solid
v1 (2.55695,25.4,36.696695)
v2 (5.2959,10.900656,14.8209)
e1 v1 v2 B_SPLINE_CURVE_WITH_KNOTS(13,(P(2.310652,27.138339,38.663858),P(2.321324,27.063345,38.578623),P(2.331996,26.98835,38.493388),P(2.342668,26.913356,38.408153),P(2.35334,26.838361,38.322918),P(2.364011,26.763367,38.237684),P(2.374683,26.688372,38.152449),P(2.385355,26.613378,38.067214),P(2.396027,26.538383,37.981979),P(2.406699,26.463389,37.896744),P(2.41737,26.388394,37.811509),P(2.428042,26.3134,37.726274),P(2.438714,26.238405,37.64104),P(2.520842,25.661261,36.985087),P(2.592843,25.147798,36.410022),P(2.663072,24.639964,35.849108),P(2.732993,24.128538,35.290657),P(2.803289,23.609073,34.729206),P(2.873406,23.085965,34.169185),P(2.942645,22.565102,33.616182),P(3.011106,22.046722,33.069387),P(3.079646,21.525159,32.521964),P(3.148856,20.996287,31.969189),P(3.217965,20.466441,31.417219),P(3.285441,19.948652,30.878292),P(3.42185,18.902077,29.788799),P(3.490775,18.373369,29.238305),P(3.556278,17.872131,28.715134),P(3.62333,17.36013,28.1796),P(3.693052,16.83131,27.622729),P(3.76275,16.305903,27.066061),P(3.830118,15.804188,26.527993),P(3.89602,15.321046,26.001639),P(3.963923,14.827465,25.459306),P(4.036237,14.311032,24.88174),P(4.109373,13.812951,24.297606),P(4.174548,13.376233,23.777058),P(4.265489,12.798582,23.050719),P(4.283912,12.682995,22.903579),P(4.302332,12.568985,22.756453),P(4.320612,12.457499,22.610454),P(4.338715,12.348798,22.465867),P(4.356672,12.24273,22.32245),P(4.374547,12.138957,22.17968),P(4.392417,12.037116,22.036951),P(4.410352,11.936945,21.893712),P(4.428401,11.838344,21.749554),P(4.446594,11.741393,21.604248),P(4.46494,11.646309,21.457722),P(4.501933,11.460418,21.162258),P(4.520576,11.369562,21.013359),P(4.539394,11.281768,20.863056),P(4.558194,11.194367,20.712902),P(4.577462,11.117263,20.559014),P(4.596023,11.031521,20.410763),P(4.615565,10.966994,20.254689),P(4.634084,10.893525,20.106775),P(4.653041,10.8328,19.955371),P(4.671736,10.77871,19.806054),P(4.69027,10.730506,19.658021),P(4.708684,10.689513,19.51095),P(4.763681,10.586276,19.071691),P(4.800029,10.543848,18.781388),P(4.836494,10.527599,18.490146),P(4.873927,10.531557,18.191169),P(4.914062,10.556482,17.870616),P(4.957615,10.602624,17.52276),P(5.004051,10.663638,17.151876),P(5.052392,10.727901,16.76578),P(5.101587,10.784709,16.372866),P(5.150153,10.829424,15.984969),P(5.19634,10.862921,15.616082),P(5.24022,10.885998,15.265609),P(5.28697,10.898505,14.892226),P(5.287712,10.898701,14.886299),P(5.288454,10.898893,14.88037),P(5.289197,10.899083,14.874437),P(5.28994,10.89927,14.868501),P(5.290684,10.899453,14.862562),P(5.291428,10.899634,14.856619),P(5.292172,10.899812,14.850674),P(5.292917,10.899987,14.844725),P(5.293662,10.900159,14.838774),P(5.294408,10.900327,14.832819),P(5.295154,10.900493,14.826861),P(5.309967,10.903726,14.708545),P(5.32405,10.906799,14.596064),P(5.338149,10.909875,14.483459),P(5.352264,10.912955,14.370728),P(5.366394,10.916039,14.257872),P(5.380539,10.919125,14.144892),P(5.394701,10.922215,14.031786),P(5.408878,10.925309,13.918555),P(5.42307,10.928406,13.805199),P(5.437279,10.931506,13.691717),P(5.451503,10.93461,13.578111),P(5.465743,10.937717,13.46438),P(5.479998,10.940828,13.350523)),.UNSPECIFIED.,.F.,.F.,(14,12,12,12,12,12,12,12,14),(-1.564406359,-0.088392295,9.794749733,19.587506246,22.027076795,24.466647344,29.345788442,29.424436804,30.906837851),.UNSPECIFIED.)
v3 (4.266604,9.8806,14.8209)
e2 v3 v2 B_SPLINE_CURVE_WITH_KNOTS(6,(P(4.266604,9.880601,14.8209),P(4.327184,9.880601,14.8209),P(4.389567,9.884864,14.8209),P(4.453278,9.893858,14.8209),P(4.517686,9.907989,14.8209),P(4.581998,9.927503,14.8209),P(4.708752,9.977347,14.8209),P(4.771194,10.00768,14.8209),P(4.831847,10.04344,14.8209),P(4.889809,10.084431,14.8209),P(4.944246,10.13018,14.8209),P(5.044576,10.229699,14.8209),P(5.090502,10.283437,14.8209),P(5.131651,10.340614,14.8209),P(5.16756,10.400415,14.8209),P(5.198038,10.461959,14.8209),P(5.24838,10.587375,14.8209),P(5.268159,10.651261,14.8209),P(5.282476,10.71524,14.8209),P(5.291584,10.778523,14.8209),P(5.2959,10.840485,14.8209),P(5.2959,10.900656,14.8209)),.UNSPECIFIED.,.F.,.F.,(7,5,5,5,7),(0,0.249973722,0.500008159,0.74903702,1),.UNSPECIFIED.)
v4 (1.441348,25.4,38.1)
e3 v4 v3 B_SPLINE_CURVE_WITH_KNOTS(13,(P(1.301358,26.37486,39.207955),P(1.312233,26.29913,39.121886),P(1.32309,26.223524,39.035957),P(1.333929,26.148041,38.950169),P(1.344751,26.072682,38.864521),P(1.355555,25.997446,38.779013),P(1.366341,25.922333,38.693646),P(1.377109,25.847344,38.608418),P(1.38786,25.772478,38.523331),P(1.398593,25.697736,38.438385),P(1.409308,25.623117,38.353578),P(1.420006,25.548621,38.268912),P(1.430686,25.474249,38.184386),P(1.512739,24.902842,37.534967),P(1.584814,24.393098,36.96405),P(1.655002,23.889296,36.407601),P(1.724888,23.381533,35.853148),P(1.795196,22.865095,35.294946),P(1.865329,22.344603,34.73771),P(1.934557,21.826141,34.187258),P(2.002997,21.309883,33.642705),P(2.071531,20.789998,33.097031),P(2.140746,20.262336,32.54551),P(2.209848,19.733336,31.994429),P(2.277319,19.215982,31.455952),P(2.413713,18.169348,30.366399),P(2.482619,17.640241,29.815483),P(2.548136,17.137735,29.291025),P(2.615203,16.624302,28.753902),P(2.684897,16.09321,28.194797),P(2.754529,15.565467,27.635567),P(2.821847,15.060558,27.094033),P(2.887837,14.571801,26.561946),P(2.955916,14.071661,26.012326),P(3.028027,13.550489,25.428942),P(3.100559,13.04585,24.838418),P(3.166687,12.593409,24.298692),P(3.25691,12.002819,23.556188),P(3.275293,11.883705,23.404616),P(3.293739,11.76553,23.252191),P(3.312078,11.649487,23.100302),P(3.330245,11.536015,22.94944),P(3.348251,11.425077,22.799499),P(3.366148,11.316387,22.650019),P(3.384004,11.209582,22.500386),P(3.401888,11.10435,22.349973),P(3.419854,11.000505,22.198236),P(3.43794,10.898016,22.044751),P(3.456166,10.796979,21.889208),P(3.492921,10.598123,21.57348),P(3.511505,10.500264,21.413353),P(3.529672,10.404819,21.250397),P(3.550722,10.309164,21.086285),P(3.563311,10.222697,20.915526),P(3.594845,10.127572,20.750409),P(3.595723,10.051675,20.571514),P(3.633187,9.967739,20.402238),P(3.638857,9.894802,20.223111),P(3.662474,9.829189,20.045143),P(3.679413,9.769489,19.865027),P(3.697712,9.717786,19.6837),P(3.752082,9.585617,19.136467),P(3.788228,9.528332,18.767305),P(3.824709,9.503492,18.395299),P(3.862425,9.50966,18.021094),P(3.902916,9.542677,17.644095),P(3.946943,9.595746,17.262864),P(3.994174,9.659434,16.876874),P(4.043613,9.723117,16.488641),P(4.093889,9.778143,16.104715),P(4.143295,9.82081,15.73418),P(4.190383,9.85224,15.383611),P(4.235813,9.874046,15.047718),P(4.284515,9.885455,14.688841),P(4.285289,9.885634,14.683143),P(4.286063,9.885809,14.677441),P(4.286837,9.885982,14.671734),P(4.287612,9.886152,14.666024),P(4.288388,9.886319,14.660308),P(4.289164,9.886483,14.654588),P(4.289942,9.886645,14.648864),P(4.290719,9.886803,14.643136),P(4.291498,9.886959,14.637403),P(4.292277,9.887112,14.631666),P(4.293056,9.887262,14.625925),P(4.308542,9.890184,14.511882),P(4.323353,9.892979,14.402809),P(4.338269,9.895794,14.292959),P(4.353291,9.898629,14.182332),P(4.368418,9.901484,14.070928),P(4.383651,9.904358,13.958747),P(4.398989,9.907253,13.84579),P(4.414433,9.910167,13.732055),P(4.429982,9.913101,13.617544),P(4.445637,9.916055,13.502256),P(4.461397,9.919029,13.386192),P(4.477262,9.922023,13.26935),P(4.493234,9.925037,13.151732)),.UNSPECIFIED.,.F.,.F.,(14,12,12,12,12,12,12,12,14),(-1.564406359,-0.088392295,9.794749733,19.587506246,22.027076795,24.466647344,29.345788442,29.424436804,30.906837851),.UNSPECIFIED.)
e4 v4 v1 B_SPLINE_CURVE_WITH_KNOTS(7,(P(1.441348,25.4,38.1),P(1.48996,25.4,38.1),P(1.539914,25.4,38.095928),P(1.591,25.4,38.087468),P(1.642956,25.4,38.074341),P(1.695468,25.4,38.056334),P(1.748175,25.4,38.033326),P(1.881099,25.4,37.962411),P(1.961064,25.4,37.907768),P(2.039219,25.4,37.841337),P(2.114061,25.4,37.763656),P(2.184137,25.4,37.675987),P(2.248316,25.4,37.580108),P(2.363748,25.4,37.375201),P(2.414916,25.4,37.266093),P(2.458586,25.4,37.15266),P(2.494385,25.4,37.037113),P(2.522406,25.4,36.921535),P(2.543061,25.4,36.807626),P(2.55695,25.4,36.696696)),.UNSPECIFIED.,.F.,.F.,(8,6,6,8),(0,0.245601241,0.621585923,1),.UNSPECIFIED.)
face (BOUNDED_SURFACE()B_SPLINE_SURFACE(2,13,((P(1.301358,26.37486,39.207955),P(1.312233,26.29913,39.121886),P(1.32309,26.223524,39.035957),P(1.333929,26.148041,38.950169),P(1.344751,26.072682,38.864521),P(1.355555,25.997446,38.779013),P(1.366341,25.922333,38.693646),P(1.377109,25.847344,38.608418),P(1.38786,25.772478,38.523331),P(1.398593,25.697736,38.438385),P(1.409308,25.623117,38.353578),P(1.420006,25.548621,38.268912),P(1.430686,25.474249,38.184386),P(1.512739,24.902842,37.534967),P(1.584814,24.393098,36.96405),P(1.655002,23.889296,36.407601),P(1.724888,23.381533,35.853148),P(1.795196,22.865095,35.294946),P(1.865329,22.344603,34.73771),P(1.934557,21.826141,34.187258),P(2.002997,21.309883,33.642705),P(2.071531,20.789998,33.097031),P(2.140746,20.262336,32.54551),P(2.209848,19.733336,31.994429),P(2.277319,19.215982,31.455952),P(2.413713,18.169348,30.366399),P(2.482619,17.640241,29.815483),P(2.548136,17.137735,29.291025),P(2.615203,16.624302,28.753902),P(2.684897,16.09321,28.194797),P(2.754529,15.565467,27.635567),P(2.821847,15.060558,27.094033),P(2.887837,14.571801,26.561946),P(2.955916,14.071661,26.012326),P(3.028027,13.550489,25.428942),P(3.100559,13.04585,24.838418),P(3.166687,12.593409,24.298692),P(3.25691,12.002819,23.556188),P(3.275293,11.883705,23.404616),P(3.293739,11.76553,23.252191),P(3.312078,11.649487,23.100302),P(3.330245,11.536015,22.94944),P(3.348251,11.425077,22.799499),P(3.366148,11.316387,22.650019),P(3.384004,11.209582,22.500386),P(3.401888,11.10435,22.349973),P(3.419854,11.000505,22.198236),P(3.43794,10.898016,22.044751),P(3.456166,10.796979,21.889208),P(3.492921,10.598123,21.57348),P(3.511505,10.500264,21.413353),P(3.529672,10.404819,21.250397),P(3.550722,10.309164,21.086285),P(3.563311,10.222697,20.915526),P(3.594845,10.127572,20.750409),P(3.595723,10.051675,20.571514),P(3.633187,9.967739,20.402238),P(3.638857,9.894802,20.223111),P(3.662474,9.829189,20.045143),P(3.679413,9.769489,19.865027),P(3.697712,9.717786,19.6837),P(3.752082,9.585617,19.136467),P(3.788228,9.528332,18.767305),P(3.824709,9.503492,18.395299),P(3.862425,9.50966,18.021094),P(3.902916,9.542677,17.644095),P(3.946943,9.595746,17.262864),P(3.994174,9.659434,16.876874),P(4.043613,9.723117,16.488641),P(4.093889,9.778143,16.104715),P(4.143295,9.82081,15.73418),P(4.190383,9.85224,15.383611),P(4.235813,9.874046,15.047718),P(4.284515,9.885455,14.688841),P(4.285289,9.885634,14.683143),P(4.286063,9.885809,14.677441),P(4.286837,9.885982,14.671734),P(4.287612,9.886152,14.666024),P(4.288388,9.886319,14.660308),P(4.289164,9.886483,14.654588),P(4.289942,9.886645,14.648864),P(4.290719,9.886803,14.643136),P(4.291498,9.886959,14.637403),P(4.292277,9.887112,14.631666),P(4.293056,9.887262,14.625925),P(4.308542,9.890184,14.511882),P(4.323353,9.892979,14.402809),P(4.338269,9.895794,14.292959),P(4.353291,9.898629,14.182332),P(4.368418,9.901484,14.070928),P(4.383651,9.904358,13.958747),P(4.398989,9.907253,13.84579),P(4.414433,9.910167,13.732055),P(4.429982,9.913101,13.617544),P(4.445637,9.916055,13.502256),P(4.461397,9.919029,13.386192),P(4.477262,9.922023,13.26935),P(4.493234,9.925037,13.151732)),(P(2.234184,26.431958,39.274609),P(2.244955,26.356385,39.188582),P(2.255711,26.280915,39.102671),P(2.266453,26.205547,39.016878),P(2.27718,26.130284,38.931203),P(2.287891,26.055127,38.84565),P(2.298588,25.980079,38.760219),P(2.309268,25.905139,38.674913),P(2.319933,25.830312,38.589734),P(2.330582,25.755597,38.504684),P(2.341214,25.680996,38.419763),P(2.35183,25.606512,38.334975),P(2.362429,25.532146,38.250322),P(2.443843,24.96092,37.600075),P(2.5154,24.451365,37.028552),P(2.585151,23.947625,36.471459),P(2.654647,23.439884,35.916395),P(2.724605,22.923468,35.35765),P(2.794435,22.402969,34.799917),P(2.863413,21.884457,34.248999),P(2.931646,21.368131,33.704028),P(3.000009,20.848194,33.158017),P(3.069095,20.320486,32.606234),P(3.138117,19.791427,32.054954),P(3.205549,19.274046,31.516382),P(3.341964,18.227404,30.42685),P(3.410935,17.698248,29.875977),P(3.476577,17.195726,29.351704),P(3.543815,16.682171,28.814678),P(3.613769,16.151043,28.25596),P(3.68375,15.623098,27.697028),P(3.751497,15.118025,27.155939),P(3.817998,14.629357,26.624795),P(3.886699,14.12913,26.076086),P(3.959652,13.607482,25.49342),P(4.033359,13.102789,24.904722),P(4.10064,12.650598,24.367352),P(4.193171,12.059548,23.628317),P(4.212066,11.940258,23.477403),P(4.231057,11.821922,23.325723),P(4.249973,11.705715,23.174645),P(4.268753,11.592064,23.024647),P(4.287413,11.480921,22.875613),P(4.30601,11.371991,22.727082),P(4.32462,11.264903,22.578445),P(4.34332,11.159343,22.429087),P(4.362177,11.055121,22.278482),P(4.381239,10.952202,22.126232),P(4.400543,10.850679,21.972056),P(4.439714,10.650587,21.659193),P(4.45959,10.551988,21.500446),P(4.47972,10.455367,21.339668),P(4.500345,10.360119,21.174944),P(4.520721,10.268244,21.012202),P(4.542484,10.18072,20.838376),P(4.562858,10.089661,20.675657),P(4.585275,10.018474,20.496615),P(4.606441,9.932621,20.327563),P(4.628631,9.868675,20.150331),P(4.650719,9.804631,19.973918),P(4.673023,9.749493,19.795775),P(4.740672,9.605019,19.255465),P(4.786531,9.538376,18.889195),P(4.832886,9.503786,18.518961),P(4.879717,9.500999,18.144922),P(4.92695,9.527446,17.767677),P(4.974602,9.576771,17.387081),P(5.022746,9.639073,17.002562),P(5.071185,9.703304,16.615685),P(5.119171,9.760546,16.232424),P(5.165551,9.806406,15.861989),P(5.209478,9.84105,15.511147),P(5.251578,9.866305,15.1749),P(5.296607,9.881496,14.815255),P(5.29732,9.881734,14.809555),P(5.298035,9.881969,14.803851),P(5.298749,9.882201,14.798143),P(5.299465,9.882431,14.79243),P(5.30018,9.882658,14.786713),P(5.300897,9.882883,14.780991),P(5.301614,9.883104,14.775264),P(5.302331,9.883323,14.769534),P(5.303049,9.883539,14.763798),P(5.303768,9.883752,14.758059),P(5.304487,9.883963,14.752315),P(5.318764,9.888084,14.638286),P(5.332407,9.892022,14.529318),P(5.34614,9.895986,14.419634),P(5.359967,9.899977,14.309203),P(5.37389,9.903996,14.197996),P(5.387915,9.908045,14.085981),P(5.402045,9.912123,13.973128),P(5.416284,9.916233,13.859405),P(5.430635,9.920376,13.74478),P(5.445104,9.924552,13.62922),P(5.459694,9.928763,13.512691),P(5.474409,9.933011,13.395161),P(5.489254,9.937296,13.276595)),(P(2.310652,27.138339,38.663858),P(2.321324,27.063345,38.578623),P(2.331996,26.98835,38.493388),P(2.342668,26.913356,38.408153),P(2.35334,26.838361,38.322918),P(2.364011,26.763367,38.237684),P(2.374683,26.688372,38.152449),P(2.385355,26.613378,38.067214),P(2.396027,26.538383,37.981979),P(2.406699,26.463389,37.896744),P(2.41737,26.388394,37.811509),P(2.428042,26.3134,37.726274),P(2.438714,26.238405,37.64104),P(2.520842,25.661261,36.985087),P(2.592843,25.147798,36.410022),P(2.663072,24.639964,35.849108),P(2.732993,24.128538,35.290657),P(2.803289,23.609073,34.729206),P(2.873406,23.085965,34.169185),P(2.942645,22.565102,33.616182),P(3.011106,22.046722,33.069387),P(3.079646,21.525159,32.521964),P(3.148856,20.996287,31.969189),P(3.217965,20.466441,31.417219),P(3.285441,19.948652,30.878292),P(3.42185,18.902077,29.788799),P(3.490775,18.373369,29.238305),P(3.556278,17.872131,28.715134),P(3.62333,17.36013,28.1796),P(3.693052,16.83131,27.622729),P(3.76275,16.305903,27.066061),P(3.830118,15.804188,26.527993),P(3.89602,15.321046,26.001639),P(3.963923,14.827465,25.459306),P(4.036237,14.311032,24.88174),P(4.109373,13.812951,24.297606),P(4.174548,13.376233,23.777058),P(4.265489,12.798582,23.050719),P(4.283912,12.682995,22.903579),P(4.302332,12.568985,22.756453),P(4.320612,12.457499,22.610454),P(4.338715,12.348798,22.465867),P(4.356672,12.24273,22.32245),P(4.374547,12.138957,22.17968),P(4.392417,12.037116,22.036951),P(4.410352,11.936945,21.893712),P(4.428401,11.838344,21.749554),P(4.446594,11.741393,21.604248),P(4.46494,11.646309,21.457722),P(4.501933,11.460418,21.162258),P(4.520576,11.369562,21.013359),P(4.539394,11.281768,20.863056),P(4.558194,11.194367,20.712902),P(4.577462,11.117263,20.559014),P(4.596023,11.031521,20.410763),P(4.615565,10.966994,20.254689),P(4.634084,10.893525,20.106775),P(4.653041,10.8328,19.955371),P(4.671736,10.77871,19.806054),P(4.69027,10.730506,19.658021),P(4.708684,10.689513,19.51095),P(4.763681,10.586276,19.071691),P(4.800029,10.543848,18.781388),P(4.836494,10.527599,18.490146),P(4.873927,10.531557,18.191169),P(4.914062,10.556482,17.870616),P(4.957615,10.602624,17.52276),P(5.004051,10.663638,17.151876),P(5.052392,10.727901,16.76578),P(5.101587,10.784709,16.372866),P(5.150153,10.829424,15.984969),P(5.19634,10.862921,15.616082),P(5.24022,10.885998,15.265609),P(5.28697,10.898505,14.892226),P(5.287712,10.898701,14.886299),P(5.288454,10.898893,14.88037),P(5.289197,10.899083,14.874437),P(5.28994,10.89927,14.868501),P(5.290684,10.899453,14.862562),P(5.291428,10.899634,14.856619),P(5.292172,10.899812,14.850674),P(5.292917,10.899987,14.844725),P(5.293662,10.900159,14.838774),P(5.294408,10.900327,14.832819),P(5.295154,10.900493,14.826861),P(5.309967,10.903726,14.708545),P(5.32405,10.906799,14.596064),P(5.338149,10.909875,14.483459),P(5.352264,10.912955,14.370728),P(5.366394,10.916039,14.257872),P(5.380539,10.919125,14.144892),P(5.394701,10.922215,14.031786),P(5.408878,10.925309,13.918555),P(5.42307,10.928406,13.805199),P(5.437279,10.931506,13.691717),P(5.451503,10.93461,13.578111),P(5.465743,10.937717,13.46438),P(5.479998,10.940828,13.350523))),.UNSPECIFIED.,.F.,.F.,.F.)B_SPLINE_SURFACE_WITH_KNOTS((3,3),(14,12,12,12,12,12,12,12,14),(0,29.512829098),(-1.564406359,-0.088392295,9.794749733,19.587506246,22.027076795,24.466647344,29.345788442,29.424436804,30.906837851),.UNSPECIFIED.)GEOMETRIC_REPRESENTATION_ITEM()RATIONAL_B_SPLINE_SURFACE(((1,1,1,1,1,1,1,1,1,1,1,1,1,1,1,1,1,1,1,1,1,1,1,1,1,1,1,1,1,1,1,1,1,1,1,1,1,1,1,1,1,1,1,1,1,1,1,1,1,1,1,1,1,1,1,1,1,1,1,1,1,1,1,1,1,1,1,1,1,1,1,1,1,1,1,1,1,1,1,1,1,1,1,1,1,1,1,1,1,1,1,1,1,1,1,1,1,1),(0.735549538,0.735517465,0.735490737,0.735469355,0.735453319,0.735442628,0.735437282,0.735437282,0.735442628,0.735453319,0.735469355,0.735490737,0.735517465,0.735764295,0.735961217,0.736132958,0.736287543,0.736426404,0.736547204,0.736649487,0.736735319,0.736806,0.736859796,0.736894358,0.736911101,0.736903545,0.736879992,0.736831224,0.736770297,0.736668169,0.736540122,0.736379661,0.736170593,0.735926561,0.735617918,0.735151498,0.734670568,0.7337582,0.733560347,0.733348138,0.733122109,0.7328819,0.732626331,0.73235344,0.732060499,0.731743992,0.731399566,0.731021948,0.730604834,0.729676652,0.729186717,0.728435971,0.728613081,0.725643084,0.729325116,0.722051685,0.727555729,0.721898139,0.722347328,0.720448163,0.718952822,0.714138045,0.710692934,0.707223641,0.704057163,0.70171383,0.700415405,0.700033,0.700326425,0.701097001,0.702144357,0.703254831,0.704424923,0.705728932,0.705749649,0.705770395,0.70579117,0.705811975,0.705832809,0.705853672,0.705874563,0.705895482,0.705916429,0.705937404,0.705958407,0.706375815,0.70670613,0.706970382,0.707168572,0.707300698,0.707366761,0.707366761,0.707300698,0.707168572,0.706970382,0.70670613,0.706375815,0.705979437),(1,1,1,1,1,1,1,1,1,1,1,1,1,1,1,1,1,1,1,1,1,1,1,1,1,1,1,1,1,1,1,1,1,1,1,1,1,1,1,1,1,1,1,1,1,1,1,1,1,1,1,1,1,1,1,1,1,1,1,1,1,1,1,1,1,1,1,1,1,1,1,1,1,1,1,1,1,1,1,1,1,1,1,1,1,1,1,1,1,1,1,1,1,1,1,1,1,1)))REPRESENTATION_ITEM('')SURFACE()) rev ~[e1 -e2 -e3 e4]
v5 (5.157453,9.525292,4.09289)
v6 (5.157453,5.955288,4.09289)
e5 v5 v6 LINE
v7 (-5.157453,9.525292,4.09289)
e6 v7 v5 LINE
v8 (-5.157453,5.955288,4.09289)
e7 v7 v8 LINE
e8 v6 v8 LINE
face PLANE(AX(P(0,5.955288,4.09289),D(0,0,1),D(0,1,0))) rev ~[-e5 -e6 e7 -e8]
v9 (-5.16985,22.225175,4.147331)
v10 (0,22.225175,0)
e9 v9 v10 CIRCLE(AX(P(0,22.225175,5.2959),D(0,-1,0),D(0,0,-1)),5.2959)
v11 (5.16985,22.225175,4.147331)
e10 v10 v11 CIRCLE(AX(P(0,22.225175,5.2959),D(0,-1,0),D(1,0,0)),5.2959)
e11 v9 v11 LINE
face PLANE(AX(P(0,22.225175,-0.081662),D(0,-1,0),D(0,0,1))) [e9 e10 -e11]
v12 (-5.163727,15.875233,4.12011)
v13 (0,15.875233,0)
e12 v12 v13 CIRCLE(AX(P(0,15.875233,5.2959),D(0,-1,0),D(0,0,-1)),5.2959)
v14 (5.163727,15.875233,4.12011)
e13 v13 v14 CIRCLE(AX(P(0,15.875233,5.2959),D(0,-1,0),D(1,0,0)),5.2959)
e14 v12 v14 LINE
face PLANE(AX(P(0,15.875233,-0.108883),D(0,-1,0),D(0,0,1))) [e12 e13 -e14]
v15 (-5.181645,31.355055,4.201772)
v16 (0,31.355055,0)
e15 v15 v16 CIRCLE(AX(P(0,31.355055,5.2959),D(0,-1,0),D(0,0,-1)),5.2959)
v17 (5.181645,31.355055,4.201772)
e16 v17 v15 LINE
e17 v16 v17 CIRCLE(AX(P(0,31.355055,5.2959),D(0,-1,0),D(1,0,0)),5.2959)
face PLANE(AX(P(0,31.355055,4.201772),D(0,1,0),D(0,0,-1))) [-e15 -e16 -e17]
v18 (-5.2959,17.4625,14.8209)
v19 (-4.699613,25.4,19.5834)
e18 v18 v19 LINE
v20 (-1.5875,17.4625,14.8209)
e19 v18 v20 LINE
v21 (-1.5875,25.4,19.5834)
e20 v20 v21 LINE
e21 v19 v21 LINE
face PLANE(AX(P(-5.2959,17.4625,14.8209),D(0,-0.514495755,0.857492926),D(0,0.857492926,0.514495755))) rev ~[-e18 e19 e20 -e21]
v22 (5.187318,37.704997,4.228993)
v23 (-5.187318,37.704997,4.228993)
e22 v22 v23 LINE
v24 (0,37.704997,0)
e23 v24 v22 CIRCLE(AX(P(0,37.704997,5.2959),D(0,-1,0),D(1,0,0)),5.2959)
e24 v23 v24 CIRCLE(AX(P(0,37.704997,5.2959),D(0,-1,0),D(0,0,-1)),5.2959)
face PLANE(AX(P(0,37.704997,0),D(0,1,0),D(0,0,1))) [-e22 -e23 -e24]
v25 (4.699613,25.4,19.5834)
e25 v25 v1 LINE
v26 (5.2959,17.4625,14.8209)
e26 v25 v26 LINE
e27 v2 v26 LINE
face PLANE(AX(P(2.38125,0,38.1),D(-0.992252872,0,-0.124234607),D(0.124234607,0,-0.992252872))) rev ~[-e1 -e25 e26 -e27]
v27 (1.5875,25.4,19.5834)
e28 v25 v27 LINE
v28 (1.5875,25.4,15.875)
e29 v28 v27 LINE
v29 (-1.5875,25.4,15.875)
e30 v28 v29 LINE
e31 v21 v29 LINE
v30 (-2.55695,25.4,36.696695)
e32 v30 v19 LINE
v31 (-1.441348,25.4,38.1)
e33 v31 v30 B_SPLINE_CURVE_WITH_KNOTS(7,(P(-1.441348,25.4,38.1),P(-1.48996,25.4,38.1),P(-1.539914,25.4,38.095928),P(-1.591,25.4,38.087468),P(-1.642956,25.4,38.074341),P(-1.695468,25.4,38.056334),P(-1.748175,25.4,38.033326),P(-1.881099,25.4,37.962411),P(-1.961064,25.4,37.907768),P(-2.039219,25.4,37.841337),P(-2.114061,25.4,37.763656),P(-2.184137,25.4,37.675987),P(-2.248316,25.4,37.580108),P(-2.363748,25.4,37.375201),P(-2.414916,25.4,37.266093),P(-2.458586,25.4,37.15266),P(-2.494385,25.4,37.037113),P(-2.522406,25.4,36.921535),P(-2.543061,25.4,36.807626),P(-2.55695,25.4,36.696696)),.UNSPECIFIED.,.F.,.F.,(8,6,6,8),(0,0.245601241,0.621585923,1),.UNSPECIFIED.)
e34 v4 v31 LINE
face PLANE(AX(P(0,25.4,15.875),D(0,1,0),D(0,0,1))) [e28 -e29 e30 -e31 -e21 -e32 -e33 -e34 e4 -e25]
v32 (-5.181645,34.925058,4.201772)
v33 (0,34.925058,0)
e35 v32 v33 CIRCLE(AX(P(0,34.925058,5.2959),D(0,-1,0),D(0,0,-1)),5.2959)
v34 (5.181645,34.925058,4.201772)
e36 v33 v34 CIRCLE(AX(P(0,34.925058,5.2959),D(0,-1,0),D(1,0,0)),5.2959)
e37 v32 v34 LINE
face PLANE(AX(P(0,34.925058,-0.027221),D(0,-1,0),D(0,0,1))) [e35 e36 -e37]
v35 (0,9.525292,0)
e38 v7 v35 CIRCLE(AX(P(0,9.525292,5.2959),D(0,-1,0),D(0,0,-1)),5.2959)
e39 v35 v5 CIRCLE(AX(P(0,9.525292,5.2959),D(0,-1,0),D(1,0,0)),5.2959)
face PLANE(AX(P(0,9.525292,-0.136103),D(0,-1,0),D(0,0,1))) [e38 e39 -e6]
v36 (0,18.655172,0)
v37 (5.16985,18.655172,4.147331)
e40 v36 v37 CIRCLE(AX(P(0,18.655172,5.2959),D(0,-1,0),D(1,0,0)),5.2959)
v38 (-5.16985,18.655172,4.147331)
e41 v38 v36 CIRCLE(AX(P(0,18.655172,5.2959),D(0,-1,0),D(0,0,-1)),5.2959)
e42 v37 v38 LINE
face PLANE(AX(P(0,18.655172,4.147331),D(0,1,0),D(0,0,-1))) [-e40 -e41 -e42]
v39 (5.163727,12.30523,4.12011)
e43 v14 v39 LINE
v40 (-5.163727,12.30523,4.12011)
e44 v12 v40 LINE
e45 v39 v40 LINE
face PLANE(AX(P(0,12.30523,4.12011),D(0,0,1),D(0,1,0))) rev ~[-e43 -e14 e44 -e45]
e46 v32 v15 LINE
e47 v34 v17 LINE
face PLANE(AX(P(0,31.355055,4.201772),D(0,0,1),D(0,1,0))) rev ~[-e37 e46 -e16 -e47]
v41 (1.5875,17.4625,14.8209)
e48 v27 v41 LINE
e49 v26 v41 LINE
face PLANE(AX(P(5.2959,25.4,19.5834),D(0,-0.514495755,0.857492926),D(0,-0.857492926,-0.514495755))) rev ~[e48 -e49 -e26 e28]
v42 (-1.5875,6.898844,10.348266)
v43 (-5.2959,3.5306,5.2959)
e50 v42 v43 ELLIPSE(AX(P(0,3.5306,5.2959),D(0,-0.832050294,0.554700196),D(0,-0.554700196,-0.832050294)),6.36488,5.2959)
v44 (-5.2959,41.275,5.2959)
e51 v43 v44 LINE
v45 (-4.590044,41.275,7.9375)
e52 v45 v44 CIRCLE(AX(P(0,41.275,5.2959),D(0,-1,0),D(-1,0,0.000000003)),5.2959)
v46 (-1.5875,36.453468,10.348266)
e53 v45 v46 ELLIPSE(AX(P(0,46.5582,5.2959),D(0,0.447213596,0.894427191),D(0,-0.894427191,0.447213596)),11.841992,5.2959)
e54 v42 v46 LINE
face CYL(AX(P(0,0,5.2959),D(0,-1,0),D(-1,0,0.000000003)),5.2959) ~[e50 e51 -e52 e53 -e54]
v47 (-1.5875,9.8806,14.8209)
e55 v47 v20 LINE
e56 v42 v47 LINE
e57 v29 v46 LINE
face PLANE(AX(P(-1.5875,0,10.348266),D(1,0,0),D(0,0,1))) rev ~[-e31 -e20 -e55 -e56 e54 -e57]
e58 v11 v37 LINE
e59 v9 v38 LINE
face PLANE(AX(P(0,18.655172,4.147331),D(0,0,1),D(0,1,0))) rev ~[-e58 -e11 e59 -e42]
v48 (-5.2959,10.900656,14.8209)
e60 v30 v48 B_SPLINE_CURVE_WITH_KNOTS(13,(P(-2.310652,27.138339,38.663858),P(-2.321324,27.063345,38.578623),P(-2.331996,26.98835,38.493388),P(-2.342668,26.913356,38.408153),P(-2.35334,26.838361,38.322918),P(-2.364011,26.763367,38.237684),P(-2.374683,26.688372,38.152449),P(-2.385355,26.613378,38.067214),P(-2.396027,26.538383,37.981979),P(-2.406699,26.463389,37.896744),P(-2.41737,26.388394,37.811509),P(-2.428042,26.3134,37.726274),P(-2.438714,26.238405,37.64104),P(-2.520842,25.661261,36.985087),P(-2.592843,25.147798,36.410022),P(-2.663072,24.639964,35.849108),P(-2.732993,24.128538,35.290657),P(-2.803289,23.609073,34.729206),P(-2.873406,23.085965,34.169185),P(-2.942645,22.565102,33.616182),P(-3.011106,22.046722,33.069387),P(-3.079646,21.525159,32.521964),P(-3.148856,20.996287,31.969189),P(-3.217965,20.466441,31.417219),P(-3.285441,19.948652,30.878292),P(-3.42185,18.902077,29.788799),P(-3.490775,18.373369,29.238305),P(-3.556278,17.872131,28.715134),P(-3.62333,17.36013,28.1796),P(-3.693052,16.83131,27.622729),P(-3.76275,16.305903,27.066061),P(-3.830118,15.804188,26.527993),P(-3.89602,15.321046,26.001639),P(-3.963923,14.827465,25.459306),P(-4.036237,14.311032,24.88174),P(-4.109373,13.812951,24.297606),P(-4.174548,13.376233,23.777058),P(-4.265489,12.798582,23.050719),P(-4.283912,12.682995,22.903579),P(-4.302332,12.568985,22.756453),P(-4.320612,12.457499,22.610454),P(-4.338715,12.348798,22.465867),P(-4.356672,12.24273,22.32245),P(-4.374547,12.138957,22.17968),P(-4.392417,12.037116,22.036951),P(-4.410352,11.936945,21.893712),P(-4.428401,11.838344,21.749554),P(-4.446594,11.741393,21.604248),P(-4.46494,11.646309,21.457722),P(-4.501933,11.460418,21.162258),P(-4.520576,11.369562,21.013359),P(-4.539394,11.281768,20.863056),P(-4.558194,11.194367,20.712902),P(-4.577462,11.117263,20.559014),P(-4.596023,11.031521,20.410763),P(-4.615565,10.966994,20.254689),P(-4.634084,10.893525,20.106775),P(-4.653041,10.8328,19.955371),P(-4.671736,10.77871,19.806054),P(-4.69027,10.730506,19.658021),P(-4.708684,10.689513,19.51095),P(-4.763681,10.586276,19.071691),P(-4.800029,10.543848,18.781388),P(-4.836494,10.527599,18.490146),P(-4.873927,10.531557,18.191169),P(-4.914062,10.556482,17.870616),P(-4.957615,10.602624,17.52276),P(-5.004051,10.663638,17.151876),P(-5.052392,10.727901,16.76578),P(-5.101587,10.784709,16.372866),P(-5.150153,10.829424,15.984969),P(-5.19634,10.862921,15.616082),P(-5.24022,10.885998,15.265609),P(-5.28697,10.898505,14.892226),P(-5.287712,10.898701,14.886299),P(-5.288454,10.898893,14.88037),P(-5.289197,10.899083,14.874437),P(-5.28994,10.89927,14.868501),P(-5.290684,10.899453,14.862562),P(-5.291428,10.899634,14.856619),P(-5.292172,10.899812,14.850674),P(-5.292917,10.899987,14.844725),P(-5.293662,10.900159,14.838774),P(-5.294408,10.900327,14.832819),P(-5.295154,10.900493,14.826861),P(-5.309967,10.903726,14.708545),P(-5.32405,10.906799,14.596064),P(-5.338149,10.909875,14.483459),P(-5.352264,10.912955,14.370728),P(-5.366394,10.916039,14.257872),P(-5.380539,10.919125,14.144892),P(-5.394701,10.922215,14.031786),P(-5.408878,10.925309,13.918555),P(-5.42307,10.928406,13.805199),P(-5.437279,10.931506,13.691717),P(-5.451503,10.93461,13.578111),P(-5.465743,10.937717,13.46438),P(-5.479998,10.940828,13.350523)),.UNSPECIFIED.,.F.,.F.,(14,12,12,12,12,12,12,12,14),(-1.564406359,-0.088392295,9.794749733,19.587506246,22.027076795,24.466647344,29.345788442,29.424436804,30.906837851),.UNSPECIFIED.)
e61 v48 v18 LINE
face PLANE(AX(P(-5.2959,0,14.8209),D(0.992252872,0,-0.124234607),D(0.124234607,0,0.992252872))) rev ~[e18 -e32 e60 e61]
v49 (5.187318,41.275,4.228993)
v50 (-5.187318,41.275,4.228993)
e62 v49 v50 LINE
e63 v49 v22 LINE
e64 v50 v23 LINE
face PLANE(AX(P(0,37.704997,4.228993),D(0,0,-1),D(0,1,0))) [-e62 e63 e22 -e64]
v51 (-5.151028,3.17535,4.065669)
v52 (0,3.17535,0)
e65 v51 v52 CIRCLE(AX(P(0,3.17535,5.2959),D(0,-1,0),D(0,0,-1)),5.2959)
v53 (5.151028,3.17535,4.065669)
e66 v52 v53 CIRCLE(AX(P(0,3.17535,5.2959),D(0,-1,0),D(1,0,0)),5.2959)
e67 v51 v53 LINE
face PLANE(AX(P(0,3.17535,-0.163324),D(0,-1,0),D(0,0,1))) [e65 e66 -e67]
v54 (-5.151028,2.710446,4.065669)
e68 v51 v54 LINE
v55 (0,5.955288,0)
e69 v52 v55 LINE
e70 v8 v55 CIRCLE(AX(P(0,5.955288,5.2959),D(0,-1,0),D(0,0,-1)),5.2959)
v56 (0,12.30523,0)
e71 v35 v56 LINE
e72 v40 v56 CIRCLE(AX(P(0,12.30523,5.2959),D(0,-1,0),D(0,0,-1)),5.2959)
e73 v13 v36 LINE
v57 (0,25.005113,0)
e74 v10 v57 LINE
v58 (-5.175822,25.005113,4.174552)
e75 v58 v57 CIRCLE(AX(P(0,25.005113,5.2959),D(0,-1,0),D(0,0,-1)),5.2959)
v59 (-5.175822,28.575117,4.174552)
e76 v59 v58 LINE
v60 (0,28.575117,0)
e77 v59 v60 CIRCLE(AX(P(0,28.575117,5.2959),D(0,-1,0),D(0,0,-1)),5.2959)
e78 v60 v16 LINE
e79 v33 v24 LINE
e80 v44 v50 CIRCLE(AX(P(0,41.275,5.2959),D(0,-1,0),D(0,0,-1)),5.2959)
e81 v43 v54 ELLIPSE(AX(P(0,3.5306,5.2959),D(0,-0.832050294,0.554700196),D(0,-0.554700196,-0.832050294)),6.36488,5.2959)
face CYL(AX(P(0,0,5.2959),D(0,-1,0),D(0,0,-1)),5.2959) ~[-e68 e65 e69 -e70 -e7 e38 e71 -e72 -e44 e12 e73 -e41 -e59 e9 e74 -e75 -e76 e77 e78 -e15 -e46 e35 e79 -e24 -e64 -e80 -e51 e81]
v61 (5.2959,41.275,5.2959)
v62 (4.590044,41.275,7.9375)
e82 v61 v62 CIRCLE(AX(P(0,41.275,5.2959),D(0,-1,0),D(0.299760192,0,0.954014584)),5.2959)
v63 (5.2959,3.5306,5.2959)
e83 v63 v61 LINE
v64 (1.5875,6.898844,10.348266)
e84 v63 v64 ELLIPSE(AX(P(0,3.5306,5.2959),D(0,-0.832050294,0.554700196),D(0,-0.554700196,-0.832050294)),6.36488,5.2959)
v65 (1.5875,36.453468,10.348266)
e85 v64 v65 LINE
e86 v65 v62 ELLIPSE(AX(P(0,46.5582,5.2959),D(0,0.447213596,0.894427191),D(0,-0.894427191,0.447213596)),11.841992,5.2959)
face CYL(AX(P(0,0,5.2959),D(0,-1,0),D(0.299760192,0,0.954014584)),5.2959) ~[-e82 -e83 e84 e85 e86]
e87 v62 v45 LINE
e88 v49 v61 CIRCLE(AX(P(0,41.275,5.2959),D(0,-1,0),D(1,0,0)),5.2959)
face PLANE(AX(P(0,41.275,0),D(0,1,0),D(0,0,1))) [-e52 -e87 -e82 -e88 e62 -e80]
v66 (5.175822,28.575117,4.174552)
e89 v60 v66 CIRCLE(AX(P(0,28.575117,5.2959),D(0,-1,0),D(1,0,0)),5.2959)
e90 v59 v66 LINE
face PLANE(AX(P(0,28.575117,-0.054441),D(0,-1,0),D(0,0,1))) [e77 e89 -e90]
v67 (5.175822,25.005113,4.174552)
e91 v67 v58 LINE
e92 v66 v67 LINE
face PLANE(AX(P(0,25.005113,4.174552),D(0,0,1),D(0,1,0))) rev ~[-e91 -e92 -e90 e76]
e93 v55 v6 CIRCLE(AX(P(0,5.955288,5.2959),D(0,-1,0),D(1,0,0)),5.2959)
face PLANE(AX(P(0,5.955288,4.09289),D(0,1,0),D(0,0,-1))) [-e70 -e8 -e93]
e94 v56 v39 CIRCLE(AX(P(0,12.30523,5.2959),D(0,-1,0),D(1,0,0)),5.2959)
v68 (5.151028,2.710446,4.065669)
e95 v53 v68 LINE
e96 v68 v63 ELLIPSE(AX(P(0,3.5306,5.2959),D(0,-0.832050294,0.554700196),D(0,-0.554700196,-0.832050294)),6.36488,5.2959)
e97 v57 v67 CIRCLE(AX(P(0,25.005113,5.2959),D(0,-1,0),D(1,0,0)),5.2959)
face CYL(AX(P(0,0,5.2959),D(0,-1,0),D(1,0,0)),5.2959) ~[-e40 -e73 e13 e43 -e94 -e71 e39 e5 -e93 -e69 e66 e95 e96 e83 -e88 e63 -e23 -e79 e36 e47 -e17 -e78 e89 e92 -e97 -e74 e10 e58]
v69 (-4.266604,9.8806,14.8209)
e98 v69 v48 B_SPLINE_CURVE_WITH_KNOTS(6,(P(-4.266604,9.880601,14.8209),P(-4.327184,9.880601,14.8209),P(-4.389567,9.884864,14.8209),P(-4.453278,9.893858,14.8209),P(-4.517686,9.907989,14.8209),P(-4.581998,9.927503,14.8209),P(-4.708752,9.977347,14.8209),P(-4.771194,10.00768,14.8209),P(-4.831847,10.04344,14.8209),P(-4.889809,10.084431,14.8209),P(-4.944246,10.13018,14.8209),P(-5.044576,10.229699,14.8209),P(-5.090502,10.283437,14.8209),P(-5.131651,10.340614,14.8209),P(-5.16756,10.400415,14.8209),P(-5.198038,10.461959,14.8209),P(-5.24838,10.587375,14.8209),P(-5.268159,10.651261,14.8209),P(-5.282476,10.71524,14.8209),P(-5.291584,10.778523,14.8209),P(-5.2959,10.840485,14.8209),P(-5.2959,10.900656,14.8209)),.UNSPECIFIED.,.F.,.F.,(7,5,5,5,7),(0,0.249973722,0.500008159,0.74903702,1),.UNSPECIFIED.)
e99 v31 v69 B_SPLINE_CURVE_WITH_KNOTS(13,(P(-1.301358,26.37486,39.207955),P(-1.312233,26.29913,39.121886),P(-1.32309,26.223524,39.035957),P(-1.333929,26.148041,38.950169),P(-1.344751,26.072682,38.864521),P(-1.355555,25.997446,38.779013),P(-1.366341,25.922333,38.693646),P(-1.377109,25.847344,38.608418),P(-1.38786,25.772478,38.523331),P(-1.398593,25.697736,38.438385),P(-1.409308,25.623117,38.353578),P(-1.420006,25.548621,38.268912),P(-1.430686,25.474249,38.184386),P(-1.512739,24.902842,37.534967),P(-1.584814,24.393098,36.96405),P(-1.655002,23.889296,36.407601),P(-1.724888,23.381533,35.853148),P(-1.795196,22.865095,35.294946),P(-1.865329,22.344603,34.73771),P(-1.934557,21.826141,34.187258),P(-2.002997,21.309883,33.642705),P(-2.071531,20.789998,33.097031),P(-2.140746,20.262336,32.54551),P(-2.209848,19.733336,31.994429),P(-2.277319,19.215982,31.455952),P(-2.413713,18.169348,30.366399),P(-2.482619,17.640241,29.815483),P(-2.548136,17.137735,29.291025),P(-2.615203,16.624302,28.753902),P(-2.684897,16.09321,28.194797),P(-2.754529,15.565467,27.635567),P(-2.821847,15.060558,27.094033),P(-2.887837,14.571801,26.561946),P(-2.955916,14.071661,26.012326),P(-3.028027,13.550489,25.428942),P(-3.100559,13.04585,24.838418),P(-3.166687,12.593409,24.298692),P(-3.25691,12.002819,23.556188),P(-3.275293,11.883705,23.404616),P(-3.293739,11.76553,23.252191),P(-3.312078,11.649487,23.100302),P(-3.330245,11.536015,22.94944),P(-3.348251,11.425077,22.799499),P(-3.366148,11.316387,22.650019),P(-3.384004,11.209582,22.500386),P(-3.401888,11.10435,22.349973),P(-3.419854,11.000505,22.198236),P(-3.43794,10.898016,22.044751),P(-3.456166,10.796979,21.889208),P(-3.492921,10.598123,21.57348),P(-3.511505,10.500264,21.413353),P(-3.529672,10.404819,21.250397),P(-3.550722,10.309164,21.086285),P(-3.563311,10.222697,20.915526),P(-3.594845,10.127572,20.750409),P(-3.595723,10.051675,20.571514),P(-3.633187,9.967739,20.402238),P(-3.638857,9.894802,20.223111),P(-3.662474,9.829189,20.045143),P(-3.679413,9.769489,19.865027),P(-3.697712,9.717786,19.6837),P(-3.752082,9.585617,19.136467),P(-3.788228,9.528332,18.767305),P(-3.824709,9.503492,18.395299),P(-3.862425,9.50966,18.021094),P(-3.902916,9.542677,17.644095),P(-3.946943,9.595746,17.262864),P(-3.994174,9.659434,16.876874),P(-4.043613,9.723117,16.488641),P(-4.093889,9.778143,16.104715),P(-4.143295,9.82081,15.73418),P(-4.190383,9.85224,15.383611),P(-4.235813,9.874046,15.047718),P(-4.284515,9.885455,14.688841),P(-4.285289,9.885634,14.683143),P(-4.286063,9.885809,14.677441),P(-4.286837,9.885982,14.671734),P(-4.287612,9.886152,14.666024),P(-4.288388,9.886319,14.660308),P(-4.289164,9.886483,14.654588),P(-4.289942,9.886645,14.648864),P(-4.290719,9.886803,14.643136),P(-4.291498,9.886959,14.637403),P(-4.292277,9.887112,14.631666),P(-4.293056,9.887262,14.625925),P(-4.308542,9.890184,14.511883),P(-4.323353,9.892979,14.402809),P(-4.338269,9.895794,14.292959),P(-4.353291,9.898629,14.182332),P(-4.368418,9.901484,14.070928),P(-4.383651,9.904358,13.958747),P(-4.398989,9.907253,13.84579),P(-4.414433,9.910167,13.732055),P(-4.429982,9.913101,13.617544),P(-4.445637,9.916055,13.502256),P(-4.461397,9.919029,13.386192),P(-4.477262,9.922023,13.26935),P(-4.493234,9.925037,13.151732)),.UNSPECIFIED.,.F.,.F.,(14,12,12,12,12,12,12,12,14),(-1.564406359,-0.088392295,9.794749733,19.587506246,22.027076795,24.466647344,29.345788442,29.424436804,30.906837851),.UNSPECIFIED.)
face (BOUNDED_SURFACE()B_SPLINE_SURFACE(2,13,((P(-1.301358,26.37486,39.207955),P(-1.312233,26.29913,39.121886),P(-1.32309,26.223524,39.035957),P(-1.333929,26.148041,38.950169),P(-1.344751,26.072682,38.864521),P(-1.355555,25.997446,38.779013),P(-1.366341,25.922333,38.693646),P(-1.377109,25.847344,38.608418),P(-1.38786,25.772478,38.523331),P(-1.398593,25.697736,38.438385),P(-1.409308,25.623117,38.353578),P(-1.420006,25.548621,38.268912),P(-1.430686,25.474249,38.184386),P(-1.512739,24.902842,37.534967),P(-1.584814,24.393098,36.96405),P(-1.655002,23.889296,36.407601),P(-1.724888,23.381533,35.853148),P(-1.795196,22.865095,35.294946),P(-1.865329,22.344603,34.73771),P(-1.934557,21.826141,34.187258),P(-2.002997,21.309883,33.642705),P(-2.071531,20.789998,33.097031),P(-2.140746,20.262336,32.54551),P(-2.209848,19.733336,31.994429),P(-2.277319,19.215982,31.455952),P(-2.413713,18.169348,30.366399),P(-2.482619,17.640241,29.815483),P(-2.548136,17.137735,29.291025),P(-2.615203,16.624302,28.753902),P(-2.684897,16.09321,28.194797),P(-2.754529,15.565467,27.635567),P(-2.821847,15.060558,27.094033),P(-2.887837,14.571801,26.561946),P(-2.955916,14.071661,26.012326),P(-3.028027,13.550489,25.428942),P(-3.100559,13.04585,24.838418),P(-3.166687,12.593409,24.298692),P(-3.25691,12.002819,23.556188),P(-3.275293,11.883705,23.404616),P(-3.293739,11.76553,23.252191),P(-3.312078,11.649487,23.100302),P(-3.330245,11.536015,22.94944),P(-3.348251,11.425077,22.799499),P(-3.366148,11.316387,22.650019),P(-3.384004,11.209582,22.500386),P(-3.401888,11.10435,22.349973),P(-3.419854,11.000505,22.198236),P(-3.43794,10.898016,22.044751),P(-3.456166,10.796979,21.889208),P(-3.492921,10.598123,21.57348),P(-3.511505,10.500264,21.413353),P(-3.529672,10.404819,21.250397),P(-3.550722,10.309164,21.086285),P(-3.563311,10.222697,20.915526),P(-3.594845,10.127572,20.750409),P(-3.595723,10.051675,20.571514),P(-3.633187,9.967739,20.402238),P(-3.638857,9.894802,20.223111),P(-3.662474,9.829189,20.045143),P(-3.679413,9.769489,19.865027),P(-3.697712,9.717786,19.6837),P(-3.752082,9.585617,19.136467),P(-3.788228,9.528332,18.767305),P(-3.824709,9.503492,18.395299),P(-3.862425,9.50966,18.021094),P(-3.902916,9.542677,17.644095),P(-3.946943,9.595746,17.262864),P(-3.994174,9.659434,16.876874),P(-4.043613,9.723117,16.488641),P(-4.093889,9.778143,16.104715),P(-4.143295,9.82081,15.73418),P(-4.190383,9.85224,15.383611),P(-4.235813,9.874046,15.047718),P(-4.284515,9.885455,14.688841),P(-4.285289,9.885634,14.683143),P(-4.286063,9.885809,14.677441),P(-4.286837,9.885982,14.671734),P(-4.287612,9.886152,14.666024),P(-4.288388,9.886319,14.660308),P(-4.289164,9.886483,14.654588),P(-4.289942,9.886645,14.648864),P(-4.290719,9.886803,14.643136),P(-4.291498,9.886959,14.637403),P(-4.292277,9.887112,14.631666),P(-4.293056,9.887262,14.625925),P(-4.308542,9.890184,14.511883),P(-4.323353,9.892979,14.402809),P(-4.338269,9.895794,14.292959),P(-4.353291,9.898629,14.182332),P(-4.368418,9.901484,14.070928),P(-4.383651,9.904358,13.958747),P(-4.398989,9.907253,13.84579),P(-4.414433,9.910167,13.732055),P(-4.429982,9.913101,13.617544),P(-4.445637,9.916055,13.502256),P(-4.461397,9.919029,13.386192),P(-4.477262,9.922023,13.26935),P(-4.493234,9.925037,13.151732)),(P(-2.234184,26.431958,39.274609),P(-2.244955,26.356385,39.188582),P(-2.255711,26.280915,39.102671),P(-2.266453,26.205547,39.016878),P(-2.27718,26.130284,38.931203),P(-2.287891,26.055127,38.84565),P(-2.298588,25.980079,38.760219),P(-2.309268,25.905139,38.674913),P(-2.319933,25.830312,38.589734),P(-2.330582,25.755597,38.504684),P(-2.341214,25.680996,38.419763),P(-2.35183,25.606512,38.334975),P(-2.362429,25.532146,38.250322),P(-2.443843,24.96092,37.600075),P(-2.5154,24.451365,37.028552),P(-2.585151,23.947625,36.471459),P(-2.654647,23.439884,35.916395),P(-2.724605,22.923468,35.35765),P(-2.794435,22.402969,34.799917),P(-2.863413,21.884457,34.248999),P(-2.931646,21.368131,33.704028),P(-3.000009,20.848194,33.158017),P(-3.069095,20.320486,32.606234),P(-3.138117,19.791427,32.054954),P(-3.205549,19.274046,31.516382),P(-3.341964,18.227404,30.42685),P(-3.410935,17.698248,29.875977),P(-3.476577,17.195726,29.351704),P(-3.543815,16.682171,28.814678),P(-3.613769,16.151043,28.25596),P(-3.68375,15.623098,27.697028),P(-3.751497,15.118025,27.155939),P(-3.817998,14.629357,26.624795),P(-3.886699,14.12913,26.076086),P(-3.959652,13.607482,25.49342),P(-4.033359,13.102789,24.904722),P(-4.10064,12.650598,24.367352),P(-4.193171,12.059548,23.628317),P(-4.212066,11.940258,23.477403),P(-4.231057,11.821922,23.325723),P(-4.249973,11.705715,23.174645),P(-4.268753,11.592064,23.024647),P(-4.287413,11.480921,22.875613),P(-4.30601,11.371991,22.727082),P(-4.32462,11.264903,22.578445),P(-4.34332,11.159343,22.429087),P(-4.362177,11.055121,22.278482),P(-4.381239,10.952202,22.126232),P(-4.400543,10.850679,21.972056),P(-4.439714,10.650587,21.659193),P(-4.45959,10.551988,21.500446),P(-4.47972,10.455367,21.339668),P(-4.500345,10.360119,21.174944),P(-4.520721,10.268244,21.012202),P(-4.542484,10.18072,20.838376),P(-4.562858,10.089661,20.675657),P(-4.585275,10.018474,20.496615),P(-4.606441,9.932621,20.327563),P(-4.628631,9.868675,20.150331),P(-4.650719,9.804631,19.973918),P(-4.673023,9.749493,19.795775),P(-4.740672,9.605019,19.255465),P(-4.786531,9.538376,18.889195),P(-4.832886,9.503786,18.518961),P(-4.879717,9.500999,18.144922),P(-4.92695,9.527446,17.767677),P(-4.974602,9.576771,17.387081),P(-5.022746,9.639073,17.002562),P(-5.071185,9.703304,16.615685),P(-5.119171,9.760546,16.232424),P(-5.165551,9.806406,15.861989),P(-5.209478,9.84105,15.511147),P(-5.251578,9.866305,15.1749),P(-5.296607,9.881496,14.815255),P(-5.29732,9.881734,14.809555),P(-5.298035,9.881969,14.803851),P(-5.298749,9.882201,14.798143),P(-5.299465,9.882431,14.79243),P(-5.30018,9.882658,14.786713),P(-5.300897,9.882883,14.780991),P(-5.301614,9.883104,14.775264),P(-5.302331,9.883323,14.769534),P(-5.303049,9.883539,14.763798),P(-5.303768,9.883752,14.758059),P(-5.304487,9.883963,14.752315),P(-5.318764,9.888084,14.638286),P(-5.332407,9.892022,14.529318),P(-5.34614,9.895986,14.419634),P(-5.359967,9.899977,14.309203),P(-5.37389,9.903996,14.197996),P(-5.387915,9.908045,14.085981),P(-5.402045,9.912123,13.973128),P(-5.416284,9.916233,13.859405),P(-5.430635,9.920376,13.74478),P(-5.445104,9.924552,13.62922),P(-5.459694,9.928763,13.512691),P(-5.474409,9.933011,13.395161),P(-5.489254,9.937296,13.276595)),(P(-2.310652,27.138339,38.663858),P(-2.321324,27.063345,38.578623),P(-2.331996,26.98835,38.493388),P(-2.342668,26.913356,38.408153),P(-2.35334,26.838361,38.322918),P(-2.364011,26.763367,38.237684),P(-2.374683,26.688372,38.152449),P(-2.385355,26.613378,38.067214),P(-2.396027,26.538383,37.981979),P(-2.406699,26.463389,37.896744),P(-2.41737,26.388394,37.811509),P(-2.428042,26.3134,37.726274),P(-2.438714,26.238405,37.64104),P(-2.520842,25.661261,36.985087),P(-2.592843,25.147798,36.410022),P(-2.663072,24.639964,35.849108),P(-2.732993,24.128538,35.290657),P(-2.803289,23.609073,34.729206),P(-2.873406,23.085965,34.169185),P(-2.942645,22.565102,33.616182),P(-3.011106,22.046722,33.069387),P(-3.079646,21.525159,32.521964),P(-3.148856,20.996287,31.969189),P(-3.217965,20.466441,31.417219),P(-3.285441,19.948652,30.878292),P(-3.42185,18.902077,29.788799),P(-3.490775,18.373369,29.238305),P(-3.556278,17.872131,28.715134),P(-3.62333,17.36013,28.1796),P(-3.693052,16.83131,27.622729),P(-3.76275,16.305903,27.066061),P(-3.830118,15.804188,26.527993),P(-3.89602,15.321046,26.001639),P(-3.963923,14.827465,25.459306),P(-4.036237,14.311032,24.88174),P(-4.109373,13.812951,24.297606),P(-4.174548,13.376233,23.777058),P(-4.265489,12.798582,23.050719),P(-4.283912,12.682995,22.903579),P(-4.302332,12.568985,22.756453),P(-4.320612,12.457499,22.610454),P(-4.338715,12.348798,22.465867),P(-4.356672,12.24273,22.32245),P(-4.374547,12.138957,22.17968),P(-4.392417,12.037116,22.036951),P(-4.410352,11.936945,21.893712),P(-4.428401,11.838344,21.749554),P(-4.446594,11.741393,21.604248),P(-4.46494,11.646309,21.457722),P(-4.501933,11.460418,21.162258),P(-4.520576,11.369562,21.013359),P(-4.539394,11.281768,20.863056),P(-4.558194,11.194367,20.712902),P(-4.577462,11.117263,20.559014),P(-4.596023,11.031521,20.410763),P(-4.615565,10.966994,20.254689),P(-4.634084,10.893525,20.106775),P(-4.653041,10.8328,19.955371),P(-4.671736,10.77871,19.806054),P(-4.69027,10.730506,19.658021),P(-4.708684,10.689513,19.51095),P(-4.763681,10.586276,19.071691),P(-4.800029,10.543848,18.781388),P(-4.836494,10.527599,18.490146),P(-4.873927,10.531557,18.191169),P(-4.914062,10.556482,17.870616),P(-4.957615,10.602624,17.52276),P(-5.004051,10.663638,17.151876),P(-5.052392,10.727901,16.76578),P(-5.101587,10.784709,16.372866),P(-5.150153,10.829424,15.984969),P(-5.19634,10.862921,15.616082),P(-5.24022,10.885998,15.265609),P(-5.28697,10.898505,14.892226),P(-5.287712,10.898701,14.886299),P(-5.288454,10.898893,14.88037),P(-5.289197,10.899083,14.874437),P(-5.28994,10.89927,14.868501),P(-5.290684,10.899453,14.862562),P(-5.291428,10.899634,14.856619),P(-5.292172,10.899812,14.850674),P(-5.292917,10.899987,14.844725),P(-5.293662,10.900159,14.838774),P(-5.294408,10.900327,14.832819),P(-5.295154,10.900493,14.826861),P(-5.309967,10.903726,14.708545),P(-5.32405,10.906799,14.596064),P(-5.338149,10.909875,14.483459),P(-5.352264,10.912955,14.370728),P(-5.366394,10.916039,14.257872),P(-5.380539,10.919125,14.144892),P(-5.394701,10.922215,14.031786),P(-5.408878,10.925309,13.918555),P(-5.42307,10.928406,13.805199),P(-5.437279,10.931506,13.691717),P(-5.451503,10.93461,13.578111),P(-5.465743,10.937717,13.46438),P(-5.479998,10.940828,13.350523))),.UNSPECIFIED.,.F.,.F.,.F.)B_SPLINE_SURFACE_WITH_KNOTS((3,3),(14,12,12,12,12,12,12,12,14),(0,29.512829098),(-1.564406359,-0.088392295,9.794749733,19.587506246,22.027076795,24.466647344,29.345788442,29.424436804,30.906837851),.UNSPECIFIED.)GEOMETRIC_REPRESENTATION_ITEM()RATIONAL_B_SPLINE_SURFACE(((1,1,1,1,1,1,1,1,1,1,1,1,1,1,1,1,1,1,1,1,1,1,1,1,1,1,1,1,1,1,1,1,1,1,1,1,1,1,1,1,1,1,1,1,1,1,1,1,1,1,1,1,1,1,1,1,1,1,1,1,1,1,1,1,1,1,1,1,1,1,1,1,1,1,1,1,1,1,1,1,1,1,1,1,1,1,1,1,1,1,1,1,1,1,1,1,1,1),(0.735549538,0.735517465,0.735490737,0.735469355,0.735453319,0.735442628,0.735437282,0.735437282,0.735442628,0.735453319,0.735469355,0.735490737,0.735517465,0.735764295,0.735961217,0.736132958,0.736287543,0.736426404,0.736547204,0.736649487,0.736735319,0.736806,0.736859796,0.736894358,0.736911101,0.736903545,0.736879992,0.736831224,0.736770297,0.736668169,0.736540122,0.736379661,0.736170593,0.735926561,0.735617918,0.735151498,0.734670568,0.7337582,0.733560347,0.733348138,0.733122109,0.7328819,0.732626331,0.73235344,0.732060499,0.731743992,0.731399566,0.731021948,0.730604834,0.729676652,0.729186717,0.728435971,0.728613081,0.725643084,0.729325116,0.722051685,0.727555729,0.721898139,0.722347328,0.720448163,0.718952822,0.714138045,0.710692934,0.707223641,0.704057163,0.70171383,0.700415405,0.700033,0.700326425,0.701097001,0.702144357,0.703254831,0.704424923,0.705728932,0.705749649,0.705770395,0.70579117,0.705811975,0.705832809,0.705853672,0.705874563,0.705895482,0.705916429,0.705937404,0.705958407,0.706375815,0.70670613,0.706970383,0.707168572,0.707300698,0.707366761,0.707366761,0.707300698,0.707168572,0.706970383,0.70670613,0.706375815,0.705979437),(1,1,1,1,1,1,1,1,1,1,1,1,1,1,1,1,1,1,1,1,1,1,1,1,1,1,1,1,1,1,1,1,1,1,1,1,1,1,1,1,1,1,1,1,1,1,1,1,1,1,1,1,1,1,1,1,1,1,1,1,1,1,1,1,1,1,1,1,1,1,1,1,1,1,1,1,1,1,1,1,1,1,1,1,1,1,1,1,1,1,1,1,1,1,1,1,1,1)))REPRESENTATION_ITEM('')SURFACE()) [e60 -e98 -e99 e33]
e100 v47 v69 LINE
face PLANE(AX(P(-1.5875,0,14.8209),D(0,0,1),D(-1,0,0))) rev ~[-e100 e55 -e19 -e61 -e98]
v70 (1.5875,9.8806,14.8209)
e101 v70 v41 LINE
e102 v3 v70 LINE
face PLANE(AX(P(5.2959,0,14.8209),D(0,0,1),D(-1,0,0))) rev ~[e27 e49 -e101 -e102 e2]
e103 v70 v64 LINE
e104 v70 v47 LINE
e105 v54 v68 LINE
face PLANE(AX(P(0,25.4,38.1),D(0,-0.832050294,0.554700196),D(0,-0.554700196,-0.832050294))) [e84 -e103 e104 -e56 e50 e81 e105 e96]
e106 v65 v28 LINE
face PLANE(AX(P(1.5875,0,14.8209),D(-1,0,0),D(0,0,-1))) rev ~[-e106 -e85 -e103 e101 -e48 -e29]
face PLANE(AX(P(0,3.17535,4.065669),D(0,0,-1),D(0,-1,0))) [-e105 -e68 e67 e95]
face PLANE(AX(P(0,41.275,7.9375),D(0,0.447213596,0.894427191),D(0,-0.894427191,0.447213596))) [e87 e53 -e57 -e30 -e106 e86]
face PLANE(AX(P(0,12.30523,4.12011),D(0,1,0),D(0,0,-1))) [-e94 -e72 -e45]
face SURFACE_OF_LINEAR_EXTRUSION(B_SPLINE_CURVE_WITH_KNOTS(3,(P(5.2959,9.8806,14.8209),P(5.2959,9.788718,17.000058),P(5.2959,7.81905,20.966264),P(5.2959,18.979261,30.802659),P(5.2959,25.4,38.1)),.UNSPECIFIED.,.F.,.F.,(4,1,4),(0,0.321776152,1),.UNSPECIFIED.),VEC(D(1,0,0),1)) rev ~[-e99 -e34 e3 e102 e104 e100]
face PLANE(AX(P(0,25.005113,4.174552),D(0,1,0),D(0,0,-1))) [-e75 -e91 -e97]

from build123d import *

# Parameters (mm, degrees)
F1_DEPTH  = 5.2959
F2_DEPTH  = 41.276
F4_DEPTH  = 3.7084
F12_DEPTH = 3.7084
F6_DEPTH  = 10.5918
F7_DEPTH  = 41.276
F8_W      = 3.5700032353
F8_H      = 0.1361034085
F8_H_2    = 4.0928895229
F8_H_3    = 0.1088827268
F8_H_4    = 4.1201102046
F8_H_5    = 0.0816620451
F8_H_6    = 4.1473308863
F8_H_7    = 0.0544413634
F8_H_8    = 4.174551568
F8_H_9    = 0.0272206817
F8_H_10   = 4.2017722497
F8_H_11   = 4.2289929314
F14_DEPTH = 12.7
F9_R      = 1.016


with BuildPart() as f1:
    # F0 (on Right) → F1 (new body, symmetric)
    with BuildSketch(Plane.YZ):
        Polygon((25.4, 38.1), (0, 0), (41.275, 0), (41.275, 7.9375), (25.4, 15.875), align=None)
    extrude(amount=F1_DEPTH, both=True)

    # F10 (on Front) → F2 (cut, through all)
    with BuildSketch(Plane.XZ):
        with BuildLine():
            Line((-1.5875, 14.8209), (-5.2959, 14.8209))
            Line((-5.2959, 14.8209), (-5.2959, 5.2959000144))
            ThreePointArc((-5.2959, 5.2959000144), (-4.2692972482, 8.4295333251), (-1.5875, 10.3482658379))
            Line((-1.5875, 10.3482658379), (-1.5875, 14.8209))
        make_face()
        with BuildLine():
            Line((5.2959, 5.2959), (5.2959, 14.8209))
            Line((5.2959, 14.8209), (1.5875, 14.8209))
            Line((1.5875, 14.8209), (1.5875, 10.3482658379))
            ThreePointArc((1.5875, 10.3482658379), (4.2692972525, 8.4295333193), (5.2959, 5.2959))
        make_face()
        with BuildLine():
            ThreePointArc((0, 0), (-3.7447668076, 1.5511332026), (-5.2959, 5.2959000144))
            Line((-5.2959, 5.2959000144), (-5.2959, 0))
            Line((-5.2959, 0), (0, 0))
        make_face()
        with BuildLine():
            ThreePointArc((5.2959, 5.2959), (3.7447668025, 1.5511331975), (0, 0))
            Line((0, 0), (5.2959, 0))
            Line((5.2959, 0), (5.2959, 5.2959))
        make_face()
    extrude(amount=-F2_DEPTH, mode=Mode.SUBTRACT)

    # F3 (on face) → F4 (cut)
    with BuildSketch(Plane.YZ.offset(5.2959)):
        Polygon((17.4625, 14.8209), (27.5082, 14.8209), (25.4, 15.875), (25.4, 19.5834), align=None)
    extrude(amount=-F4_DEPTH, mode=Mode.SUBTRACT)

    # F11 (on face) → F12 (cut)
    with BuildSketch(Plane(origin=(-5.2959, 0, 0), x_dir=(0, -1, 0), z_dir=(-1, 0, 0))):
        Polygon((-27.5082, 14.8209), (-17.4625, 14.8209), (-25.4, 19.5834), (-25.4, 15.875), align=None)
    extrude(amount=-F12_DEPTH, mode=Mode.SUBTRACT)

    # F5 (on face) → F6 (join)
    with BuildSketch(Plane.YZ.offset(5.2959)):
        with BuildLine():
            add(Edge.make_bspline(
                [(9.8806, 14.8209), (9.7887178245, 17.0000575052), (7.8190504565, 20.9662638554), (18.9792610557, 30.802658642), (25.4, 38.1)],
                knots=[0, 0, 0, 0, 0.3217761524, 1, 1, 1, 1], degree=3))
            Line((9.8806, 14.8209), (25.4, 38.1))
        make_face()
    extrude(amount=-F6_DEPTH)

    # F13 (on Front) → F7 (cut, through all)
    with BuildSketch(Plane.XZ):
        with BuildLine():
            add(Edge.make_bspline(
                [(-5.2959, 14.8209), (-5.2959, 15.5472858351), (-5.2959, 17.5957404535), (-5.2959, 22.9229933342), (-5.2959, 29.9563074991), (-5.2959, 35.6675528807), (-5.2959, 38.1)],
                knots=[0, 0, 0, 0, 2.1791575052, 6.1453638554, 15.981758642, 23.2791, 23.2791, 23.2791, 23.2791], degree=3))
            Line((-5.2959, 14.8209), (-2.38125, 38.1))
            Line((-2.38125, 38.1), (-5.2959, 38.1))
        make_face()
        with BuildLine():
            Line((2.38125, 38.1), (5.2959, 14.8209))
            add(Edge.make_bspline(
                [(5.2959, 14.8209), (5.2959, 15.5472858351), (5.2959, 17.5957404535), (5.2959, 22.9229933342), (5.2959, 29.9563074991), (5.2959, 35.6675528807), (5.2959, 38.1)],
                knots=[0, 0, 0, 0, 2.1791575052, 6.1453638554, 15.981758642, 23.2791, 23.2791, 23.2791, 23.2791], degree=3))
            Line((5.2959, 38.1), (2.38125, 38.1))
        make_face()
    extrude(amount=-F7_DEPTH, mode=Mode.SUBTRACT)

    # F8 (on Right) → F14 (cut, symmetric)
    with BuildSketch(Plane.YZ):
        Polygon((3.1753500641, -0.1633240902), (3.1753500641, 0), (3.1753500641, 4.0656688412), (-0.3946531713, 4.0656688412), (-0.3946531713, -0.1633240902), align=None)
        with Locations((7.7402901024, -0.0680517042)):
            Rectangle(F8_W, F8_H)
        with Locations((7.7402901024, 2.0464447615)):
            Rectangle(F8_W, F8_H_2)
        with Locations((14.0902317584, -0.0544413634)):
            Rectangle(F8_W, F8_H_3)
        with Locations((14.0902317584, 2.0600551023)):
            Rectangle(F8_W, F8_H_4)
        with Locations((20.4401734144, -0.0408310225)):
            Rectangle(F8_W, F8_H_5)
        with Locations((20.4401734144, 2.0736654432)):
            Rectangle(F8_W, F8_H_6)
        with Locations((26.7901150703, -0.0272206817)):
            Rectangle(F8_W, F8_H_7)
        with Locations((26.7901150703, 2.087275784)):
            Rectangle(F8_W, F8_H_8)
        with Locations((33.1400567263, -0.0136103408)):
            Rectangle(F8_W, F8_H_9)
        with Locations((33.1400567263, 2.1008861249)):
            Rectangle(F8_W, F8_H_10)
        with Locations((39.4899983823, 2.1144964657)):
            Rectangle(F8_W, F8_H_11)
    extrude(amount=F14_DEPTH, both=True, mode=Mode.SUBTRACT)

    # F9
    f9_edges = [f1.edges().sort_by_distance(p)[0] for p in [
        (3.714975, 15.399413, 27.447632),
        (-3.714975, 15.399413, 27.447632),
    ]]
    fillet(f9_edges, radius=F9_R)


solid = f1.part
